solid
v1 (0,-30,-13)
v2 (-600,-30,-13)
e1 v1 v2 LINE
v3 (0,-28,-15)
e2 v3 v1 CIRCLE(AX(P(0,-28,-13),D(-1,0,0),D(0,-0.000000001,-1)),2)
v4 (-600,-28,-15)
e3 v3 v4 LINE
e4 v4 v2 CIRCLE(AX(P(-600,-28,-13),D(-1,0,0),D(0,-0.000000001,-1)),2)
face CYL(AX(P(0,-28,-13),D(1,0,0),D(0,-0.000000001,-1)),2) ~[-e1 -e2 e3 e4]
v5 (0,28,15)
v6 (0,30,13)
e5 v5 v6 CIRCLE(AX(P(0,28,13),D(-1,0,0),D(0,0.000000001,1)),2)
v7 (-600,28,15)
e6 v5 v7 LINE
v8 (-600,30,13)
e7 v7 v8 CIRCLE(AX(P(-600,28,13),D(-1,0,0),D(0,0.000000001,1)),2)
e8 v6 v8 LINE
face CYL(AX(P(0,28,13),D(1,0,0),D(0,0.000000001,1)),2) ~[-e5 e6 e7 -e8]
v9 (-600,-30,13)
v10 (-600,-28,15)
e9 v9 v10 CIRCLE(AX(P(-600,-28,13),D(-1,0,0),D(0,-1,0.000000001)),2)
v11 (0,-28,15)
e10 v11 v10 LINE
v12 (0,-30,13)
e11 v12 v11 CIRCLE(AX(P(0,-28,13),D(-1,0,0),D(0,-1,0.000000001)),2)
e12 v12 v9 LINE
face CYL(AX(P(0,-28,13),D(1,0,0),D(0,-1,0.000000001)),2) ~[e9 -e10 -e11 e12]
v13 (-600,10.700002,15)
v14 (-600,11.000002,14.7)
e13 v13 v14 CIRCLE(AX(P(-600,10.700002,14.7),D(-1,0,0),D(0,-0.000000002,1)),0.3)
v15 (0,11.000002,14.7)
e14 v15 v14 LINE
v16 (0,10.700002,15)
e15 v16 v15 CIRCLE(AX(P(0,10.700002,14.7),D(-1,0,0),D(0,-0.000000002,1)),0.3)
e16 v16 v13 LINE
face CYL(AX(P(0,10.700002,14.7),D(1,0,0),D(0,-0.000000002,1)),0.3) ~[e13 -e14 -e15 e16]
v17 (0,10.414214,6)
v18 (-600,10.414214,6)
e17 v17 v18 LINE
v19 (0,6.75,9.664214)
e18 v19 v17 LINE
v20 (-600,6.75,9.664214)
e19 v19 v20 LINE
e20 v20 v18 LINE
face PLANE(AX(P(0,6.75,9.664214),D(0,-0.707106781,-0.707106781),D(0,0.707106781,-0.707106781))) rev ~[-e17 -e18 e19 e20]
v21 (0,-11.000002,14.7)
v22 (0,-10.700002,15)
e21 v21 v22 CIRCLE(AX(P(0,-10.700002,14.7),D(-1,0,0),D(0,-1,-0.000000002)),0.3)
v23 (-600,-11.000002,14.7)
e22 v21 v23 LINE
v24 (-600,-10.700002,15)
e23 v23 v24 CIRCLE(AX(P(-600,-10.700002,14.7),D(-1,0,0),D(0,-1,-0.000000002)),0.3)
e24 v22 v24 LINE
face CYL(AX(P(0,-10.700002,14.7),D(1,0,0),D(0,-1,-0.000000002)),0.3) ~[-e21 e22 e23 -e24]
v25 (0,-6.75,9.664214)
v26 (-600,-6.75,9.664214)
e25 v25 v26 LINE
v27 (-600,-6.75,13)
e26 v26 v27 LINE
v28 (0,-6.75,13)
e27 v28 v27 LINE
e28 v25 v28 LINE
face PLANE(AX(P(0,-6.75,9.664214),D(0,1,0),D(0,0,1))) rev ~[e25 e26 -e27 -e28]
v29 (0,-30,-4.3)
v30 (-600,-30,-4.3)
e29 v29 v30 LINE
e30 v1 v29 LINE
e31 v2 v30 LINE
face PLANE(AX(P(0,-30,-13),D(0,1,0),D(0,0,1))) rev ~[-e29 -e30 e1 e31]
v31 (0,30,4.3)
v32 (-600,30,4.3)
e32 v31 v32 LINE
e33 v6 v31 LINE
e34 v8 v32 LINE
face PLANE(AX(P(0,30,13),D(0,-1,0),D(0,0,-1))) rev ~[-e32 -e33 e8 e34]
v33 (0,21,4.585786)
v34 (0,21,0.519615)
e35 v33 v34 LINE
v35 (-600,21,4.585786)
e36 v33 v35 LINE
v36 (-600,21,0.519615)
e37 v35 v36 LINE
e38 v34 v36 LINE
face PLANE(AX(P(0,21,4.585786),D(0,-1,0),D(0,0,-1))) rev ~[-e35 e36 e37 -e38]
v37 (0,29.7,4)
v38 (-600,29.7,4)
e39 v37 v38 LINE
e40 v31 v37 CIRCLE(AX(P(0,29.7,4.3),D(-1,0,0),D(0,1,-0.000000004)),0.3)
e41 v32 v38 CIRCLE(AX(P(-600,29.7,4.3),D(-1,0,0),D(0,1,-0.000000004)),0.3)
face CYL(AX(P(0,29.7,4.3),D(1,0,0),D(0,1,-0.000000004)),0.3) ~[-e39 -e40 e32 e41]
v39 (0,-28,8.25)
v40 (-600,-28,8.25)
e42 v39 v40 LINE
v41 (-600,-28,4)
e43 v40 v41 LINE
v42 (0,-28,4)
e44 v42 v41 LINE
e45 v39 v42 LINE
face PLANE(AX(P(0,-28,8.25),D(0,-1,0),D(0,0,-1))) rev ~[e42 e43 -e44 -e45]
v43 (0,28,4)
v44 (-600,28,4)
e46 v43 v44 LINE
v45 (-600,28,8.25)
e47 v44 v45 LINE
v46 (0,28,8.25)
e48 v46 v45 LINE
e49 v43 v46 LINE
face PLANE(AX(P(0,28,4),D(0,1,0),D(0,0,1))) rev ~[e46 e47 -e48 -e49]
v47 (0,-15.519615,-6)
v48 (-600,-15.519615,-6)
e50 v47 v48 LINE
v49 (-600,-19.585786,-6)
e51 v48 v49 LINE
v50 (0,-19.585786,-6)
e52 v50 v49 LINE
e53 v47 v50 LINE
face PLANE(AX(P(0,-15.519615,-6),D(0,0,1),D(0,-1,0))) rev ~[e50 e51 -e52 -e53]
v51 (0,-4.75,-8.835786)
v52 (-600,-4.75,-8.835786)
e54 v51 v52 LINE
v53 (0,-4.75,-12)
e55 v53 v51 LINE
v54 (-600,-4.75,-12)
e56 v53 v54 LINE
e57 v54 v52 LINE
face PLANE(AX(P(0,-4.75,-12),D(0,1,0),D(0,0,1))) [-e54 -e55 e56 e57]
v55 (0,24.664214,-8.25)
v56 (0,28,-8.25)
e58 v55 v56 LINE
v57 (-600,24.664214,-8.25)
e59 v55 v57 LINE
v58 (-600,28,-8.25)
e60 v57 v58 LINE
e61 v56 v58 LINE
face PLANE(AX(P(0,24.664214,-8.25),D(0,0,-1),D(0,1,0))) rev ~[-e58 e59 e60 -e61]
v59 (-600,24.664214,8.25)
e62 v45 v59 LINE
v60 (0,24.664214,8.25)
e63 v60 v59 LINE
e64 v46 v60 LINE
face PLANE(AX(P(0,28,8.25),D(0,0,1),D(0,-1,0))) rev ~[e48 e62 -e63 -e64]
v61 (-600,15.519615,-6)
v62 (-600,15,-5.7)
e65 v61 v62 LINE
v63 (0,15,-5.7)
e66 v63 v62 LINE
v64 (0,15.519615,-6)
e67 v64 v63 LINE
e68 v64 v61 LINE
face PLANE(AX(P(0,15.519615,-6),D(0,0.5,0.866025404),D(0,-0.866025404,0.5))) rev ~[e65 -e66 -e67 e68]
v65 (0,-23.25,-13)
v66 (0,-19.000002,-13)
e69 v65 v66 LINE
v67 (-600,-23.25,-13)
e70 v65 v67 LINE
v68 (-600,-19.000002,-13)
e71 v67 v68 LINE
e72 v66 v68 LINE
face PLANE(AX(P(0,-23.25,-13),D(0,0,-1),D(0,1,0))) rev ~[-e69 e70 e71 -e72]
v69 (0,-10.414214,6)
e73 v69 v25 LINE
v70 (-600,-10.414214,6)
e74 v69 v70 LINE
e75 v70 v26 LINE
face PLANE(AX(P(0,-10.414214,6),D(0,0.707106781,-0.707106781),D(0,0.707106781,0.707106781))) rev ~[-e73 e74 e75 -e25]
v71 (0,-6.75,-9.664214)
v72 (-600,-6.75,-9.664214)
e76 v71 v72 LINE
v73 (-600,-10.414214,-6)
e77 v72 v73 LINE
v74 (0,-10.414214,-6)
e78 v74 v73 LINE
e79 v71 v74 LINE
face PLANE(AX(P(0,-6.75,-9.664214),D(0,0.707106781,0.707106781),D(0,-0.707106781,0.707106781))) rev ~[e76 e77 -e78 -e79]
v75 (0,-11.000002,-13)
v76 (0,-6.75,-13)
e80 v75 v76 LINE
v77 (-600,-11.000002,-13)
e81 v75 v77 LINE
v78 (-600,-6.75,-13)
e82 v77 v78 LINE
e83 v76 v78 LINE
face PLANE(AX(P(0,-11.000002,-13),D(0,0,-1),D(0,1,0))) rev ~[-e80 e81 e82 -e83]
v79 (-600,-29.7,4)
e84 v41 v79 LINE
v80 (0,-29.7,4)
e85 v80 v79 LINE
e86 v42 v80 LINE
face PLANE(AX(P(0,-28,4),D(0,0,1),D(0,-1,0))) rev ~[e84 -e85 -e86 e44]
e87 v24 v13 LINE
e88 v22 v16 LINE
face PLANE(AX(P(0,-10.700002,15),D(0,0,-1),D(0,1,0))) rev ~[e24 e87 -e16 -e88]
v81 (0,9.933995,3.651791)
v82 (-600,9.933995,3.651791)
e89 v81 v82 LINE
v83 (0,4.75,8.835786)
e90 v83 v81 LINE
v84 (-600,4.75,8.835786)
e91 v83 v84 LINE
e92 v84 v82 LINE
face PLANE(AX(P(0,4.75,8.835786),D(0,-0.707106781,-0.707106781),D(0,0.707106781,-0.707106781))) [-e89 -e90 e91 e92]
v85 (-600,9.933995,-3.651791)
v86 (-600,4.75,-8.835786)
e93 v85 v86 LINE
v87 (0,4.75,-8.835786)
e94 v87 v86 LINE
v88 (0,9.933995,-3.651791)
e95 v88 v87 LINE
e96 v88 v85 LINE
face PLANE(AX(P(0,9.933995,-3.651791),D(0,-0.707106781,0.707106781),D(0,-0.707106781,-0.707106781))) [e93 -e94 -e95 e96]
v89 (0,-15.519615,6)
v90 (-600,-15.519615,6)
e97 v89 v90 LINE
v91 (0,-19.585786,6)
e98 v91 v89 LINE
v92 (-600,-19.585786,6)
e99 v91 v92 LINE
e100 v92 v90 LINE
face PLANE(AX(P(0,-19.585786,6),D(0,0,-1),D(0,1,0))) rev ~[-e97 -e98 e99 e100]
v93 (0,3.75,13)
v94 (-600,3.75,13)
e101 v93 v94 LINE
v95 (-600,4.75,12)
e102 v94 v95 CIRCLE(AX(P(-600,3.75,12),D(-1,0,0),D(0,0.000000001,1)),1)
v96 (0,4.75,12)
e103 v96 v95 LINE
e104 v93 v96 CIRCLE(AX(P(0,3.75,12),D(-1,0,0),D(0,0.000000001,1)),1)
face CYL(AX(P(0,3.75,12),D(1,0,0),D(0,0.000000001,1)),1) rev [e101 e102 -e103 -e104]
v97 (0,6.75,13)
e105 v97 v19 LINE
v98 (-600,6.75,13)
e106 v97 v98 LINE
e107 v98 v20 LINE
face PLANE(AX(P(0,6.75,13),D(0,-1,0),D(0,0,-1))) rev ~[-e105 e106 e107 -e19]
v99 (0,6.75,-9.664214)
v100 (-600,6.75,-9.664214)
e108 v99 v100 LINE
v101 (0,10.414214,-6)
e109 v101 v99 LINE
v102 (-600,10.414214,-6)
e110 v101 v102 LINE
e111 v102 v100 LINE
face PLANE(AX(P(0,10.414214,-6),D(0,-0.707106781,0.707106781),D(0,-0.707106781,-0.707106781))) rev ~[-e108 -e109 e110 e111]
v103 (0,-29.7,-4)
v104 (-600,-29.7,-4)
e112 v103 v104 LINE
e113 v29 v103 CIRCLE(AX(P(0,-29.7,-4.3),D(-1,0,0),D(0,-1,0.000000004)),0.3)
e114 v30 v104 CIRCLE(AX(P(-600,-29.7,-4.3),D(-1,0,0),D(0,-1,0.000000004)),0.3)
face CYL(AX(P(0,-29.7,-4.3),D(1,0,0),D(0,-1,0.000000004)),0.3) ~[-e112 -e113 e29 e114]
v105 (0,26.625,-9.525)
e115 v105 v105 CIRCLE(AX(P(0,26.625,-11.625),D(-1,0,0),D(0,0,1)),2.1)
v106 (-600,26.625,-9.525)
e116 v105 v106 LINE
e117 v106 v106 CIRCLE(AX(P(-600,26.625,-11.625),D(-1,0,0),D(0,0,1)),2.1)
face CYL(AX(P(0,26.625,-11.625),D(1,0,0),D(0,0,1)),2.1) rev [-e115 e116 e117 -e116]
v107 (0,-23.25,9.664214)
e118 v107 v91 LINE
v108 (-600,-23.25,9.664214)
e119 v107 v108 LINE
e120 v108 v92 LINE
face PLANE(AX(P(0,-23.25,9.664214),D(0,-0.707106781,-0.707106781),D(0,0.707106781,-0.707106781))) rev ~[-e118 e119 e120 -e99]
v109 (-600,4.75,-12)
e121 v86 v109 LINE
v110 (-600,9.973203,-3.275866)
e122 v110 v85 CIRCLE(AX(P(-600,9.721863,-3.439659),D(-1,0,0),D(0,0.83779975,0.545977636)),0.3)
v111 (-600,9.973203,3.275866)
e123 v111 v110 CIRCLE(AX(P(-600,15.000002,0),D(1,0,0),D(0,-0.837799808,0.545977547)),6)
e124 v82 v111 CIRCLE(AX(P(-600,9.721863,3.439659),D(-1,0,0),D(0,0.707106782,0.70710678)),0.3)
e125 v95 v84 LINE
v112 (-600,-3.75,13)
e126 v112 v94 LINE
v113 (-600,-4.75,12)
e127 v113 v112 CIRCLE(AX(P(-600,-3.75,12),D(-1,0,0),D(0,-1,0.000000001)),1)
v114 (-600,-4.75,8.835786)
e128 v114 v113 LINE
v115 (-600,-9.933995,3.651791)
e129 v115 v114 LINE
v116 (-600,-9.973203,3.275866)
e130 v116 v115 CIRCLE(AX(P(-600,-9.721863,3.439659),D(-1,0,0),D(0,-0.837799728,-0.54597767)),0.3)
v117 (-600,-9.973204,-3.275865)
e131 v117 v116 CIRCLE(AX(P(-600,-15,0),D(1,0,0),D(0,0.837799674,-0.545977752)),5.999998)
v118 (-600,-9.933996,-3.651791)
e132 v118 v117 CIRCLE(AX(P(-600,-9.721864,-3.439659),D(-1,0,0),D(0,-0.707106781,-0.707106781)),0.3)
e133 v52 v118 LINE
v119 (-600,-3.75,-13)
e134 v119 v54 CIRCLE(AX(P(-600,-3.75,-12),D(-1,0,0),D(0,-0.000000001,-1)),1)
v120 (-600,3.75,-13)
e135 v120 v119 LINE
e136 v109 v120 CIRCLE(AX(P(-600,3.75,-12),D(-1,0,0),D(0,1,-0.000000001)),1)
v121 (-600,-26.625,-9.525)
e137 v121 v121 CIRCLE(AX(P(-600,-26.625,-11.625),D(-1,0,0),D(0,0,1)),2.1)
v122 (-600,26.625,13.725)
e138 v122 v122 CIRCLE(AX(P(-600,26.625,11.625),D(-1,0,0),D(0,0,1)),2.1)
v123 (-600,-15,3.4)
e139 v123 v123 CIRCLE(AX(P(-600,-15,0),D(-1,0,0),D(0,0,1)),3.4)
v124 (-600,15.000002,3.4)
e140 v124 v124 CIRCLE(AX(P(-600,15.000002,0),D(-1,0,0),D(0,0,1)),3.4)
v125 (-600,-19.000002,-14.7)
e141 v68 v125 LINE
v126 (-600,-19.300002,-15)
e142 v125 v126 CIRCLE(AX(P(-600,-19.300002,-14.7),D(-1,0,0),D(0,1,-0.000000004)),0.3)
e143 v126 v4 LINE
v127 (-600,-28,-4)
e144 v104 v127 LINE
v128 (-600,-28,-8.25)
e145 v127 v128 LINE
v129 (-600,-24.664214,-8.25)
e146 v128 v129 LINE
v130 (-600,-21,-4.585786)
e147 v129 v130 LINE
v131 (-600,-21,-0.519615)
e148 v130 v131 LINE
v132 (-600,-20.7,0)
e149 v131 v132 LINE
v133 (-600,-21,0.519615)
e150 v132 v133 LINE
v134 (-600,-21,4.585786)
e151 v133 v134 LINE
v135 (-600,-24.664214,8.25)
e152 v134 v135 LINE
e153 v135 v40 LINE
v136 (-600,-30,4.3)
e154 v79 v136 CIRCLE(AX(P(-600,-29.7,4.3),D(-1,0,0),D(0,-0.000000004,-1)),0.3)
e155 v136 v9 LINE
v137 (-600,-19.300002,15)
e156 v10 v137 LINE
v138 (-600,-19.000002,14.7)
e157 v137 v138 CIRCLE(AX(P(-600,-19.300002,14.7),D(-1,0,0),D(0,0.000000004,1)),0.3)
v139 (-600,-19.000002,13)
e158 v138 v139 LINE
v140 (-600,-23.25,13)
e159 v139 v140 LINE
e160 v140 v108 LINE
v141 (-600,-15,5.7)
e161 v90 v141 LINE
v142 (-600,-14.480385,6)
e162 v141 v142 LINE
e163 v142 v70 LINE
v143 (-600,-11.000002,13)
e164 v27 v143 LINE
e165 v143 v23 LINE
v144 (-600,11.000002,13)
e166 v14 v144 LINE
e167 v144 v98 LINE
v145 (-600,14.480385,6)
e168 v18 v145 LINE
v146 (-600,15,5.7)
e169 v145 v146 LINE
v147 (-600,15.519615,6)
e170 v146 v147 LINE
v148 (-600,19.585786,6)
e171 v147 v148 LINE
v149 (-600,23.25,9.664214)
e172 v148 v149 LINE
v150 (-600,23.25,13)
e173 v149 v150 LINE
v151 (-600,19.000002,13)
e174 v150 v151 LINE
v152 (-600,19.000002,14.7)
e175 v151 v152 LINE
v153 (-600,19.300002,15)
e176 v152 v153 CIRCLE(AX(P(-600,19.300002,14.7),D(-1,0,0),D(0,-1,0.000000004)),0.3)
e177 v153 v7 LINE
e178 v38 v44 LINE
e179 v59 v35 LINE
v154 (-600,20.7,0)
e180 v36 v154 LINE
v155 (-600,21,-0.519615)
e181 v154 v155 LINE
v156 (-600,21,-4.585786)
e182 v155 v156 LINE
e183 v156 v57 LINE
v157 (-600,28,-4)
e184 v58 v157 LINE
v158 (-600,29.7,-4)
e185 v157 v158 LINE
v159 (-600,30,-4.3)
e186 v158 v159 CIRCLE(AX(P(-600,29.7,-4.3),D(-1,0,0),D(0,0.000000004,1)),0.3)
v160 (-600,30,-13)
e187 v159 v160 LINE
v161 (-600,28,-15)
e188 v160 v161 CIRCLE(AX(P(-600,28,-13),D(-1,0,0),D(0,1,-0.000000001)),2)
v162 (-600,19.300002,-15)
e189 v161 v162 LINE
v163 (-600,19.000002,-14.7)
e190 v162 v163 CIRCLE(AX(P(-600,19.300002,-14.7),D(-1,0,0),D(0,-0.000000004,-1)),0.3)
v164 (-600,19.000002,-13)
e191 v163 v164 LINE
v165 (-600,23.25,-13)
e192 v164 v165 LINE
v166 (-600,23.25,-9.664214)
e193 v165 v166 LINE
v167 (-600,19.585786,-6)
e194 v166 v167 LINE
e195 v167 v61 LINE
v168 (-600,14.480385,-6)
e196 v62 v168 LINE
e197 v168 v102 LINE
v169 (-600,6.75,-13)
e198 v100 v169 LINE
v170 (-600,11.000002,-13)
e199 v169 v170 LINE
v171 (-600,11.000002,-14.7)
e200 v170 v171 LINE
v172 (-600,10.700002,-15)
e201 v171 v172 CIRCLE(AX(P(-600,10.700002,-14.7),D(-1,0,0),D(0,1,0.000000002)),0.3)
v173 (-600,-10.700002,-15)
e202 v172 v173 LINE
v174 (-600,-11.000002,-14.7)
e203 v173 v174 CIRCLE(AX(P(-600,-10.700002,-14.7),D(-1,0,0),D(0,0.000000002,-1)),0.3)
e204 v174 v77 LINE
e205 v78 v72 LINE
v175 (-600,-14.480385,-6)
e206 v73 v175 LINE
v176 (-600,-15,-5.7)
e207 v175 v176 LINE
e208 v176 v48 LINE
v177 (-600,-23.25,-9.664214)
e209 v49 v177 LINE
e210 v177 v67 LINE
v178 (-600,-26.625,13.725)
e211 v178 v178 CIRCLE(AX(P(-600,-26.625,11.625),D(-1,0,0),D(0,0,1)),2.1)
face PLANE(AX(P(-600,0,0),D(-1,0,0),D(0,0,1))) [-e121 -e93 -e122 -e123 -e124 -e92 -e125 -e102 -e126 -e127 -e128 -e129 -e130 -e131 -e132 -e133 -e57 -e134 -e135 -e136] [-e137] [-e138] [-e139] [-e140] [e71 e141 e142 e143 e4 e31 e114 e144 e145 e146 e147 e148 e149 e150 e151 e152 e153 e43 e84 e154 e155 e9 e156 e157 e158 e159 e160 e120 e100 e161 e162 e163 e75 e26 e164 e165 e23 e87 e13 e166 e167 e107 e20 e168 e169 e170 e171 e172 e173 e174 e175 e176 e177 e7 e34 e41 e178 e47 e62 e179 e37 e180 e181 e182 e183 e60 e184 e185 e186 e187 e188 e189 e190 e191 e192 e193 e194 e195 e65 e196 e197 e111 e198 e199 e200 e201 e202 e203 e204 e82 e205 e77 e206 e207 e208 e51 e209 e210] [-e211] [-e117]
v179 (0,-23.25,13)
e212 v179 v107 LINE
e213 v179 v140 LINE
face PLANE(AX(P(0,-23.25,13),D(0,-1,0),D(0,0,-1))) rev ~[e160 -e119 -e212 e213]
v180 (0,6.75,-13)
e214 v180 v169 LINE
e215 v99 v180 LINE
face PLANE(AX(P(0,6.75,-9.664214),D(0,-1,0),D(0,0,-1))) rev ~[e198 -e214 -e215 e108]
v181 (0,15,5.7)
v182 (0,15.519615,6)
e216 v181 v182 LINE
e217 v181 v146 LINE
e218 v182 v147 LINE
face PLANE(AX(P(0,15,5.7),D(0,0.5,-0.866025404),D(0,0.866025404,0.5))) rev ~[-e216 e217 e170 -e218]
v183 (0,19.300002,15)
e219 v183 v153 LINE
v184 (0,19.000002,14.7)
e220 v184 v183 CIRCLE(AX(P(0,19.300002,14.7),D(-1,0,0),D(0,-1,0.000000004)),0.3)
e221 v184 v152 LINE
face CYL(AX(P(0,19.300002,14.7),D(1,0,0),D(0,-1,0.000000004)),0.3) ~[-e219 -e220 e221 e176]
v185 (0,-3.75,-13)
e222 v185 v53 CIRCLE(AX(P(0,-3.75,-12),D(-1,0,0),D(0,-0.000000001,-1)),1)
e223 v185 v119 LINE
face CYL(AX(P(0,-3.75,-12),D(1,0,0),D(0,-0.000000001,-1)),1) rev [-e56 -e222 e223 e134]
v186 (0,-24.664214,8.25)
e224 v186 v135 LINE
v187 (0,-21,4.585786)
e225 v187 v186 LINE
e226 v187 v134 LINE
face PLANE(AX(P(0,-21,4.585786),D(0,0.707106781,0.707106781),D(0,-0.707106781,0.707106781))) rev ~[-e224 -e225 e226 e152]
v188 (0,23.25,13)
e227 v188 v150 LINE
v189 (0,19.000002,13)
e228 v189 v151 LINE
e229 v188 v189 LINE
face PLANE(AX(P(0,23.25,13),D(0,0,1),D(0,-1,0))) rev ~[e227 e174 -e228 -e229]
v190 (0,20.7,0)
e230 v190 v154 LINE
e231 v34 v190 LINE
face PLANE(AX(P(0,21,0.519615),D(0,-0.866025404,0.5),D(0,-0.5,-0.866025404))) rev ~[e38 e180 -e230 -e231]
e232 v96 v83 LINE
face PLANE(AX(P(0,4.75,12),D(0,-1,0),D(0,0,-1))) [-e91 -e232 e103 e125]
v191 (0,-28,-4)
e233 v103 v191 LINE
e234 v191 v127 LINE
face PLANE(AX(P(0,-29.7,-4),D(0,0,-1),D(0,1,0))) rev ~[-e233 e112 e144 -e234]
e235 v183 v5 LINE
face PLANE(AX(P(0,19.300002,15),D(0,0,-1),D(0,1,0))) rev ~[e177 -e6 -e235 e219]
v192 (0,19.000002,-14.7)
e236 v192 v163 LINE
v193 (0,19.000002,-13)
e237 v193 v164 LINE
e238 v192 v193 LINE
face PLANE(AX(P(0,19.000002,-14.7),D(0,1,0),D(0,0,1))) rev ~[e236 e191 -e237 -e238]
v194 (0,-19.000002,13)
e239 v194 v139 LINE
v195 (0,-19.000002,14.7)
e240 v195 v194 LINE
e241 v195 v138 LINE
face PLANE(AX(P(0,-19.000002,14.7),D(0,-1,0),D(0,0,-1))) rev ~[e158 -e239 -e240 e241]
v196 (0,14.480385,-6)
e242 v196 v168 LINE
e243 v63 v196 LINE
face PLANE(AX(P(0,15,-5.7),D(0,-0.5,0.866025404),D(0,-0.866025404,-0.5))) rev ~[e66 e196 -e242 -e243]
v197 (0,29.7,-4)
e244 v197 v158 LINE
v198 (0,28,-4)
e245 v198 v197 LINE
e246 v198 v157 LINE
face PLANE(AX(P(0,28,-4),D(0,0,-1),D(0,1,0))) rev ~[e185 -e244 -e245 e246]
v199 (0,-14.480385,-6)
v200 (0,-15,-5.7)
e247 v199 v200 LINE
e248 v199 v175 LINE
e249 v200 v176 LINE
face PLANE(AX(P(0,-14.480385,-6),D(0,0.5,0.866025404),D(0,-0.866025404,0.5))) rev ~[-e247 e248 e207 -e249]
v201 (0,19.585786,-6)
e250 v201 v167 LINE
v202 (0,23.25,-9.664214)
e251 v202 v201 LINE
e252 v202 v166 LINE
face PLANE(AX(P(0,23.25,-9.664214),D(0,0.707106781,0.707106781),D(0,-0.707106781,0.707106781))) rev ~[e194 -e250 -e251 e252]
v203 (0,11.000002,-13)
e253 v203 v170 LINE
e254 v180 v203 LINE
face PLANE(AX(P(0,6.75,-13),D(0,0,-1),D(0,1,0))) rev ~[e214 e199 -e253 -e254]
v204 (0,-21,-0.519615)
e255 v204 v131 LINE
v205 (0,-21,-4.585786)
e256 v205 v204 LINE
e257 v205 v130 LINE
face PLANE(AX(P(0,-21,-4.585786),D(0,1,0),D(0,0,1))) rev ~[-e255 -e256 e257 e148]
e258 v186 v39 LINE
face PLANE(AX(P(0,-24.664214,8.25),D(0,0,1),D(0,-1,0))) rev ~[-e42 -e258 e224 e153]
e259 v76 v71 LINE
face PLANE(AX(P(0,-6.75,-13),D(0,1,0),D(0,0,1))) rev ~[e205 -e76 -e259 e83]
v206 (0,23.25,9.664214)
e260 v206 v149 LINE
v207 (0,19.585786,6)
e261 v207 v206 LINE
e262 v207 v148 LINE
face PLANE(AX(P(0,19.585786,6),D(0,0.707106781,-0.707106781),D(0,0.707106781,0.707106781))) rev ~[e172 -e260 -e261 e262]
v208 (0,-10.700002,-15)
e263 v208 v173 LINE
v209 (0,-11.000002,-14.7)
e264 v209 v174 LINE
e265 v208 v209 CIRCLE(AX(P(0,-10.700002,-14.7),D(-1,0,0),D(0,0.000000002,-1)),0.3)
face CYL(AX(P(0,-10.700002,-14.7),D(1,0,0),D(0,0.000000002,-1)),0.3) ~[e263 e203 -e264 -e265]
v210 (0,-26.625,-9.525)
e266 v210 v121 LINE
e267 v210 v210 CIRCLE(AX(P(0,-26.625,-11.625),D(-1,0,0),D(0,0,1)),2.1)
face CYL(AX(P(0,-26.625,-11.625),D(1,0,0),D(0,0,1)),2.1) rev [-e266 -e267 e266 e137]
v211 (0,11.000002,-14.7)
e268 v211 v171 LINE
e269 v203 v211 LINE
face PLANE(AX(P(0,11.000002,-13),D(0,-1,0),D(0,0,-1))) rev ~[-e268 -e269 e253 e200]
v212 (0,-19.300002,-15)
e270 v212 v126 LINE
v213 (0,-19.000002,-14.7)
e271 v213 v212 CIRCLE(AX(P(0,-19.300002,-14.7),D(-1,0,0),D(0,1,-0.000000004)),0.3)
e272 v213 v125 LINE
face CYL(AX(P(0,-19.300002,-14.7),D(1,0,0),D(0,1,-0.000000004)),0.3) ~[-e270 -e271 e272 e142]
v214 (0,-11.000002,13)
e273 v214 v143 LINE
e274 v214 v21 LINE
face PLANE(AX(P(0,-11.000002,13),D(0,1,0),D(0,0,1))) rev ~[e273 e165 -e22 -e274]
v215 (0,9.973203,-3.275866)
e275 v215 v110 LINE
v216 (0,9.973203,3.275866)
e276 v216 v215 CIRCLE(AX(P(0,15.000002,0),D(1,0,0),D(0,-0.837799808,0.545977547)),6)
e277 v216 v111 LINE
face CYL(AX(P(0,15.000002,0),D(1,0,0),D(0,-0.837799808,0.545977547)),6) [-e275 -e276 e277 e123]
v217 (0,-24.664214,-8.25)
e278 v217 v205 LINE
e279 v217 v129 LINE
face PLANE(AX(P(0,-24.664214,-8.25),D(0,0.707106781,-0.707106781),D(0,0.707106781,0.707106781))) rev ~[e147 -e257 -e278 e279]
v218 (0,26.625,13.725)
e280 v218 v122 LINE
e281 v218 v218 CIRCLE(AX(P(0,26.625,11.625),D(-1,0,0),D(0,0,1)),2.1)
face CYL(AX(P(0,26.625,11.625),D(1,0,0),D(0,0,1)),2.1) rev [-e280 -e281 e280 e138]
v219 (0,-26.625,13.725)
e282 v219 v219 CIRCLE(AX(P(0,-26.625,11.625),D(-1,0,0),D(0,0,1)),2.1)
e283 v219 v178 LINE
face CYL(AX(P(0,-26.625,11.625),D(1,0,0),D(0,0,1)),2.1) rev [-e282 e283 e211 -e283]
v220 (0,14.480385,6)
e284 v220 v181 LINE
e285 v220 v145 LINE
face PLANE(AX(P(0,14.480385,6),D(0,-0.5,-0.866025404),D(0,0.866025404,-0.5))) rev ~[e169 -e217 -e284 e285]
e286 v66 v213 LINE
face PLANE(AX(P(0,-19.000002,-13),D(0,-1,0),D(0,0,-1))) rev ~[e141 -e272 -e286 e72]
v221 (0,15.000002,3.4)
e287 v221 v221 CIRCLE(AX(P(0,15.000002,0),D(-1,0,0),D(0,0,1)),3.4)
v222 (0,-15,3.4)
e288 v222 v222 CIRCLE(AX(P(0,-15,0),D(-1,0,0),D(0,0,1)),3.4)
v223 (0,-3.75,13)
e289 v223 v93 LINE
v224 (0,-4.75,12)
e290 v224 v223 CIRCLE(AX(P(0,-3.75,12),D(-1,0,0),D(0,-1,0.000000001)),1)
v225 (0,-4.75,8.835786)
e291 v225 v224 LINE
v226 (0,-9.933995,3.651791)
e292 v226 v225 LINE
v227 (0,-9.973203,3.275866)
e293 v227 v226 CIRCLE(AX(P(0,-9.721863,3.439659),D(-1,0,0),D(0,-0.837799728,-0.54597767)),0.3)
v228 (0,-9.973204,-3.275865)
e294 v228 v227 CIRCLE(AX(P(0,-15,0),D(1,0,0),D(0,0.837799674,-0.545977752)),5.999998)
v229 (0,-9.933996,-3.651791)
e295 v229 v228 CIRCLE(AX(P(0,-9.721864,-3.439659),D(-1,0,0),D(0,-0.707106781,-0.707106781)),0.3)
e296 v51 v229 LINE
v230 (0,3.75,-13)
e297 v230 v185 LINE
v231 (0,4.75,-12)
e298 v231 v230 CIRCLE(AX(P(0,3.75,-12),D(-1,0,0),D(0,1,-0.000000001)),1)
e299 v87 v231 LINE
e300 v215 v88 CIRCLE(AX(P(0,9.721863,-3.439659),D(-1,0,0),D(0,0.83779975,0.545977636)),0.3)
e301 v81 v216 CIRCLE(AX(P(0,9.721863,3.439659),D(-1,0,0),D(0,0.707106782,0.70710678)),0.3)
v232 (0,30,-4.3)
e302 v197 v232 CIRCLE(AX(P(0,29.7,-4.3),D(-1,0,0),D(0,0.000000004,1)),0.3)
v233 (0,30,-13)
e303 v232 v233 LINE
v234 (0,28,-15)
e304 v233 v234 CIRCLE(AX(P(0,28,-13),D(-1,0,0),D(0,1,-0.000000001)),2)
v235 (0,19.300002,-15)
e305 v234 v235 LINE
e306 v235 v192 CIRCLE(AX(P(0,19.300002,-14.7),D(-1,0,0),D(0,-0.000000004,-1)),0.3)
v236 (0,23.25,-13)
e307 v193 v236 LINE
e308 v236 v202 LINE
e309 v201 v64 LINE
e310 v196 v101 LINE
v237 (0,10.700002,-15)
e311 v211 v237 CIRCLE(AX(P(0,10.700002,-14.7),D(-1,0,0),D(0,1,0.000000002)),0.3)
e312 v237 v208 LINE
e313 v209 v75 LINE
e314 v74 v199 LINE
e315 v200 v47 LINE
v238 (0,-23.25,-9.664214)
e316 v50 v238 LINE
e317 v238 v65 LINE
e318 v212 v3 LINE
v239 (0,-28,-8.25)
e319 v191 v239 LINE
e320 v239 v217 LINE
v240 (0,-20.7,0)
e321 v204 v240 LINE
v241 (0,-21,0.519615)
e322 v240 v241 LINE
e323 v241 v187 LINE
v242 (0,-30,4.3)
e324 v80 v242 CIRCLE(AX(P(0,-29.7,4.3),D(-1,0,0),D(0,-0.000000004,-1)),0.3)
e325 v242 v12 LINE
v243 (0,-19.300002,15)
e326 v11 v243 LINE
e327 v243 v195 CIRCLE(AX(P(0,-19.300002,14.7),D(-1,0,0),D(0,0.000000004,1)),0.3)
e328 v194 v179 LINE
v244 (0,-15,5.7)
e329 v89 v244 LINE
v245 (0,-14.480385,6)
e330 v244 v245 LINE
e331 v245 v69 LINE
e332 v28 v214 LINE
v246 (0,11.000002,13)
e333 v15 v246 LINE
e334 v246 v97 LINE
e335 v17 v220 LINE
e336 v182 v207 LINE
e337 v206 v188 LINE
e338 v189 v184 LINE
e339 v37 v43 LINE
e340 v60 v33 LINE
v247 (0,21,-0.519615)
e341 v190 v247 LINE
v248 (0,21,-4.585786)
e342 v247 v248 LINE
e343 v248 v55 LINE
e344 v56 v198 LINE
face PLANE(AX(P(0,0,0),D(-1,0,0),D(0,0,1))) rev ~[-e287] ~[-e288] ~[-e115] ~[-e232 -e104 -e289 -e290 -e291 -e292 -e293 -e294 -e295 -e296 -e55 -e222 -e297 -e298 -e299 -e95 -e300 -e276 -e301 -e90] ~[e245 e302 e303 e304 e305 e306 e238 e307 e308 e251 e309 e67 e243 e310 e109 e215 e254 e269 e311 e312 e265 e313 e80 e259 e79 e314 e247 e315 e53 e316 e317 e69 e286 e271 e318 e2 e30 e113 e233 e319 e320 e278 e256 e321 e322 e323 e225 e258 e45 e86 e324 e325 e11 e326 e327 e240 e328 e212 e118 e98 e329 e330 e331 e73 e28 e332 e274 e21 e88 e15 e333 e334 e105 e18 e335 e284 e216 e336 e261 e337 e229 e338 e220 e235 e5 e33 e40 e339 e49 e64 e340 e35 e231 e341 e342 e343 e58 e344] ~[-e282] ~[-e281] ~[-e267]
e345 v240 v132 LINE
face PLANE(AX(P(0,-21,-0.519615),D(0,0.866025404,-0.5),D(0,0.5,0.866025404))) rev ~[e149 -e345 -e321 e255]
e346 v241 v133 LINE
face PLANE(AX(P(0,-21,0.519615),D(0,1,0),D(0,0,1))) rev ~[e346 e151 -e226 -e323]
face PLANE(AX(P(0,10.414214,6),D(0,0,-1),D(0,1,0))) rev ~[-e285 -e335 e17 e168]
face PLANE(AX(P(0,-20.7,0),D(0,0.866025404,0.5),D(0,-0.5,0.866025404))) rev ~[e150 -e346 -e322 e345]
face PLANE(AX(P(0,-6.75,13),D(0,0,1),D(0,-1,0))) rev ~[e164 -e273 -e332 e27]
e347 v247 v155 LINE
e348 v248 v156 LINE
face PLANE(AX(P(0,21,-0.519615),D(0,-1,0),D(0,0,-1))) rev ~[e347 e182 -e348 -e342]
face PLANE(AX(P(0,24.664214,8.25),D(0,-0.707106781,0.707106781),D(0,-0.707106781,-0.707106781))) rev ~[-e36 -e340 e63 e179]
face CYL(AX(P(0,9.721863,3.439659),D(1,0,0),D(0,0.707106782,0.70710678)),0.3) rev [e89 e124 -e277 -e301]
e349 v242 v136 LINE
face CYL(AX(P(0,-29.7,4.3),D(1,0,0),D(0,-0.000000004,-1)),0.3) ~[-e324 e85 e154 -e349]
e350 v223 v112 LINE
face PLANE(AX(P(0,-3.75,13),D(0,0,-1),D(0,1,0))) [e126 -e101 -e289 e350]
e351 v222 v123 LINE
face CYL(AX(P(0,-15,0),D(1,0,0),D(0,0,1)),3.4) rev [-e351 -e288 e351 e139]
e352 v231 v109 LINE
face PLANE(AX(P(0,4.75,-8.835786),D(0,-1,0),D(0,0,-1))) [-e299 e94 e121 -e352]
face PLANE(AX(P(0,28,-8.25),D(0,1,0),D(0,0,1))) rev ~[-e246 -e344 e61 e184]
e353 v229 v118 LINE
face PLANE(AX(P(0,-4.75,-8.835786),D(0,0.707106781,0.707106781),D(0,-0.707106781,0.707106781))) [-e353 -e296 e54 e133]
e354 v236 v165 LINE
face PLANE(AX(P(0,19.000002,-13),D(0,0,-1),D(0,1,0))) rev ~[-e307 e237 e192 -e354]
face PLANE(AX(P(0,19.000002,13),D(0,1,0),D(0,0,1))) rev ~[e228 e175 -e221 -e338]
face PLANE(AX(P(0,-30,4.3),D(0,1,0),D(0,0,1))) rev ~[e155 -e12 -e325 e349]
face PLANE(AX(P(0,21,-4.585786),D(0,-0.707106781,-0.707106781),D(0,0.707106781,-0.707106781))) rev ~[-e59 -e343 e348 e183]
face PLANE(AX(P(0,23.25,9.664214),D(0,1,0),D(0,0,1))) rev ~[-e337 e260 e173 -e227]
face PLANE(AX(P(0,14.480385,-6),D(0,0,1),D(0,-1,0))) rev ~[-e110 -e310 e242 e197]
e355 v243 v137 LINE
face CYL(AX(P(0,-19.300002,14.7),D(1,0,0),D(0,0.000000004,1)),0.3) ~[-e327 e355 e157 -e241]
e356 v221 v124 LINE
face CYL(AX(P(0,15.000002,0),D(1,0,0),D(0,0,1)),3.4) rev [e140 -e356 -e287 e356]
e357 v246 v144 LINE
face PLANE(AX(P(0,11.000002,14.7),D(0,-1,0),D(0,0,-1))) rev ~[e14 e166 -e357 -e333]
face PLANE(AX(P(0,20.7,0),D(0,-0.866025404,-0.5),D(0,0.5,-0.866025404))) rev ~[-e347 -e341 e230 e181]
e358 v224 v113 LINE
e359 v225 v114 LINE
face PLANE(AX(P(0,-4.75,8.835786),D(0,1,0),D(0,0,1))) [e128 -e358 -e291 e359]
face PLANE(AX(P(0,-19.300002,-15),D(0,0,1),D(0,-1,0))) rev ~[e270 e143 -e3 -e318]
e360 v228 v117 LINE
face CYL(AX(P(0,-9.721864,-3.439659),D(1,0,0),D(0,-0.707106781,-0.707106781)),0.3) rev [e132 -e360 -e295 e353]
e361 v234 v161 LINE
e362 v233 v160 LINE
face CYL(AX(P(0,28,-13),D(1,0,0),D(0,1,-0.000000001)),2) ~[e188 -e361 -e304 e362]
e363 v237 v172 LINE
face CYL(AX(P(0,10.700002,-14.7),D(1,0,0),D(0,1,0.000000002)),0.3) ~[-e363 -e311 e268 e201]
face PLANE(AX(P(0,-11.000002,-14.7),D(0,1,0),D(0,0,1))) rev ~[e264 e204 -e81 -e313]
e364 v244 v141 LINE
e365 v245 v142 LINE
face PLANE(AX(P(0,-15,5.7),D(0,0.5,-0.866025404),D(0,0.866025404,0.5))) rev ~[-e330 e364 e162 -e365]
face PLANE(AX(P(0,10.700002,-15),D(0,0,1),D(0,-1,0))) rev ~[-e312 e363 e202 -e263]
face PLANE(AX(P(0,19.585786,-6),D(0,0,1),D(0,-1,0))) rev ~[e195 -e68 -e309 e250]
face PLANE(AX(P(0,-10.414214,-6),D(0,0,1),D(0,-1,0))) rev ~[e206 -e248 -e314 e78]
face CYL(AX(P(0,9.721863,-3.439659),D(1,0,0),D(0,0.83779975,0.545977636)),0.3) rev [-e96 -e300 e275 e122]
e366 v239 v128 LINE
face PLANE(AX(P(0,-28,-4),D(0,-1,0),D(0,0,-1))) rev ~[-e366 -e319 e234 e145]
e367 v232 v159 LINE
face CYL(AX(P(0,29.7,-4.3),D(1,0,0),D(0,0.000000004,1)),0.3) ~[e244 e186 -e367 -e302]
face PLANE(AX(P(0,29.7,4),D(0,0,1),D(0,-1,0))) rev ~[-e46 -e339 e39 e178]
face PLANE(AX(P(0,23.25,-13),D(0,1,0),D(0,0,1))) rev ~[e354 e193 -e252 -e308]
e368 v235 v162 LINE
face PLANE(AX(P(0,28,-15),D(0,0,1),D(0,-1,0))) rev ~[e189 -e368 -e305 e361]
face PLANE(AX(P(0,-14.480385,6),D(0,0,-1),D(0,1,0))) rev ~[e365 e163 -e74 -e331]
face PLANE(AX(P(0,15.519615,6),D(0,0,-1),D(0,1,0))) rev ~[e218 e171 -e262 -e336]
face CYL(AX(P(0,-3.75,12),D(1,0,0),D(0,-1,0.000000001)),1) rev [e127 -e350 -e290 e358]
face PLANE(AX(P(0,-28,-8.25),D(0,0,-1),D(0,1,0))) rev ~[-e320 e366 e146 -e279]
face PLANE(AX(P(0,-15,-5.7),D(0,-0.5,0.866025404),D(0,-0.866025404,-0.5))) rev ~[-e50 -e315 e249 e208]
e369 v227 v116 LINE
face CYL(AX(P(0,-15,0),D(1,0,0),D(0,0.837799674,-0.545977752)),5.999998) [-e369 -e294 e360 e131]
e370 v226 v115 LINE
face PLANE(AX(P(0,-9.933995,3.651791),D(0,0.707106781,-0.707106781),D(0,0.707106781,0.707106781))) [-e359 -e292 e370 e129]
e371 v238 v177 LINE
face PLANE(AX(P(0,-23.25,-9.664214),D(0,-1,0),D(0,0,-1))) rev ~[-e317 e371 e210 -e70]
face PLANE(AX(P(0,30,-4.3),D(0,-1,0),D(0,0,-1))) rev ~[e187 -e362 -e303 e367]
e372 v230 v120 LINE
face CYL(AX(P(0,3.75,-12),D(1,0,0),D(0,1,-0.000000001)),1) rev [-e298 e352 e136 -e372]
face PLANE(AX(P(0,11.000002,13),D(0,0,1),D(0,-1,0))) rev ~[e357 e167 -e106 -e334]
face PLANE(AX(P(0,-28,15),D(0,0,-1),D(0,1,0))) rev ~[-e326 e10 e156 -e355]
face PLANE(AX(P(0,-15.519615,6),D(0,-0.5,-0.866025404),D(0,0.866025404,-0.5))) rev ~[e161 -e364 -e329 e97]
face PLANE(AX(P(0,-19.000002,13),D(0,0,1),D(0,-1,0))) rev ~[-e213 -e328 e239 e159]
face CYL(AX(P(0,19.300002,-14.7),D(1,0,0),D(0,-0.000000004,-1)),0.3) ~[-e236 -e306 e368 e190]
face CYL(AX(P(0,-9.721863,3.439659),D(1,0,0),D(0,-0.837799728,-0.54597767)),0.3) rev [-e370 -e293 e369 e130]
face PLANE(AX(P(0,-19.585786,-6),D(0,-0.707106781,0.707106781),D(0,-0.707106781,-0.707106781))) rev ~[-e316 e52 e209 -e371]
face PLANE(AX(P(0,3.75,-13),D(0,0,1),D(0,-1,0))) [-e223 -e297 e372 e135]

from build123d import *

# Parameters (mm, degrees)
SKETCH_1_R              = 2.1
SKETCH_1_R_2            = 3.4
F_30XS6_30X60S6_1_DEPTH = 600


with BuildPart() as part:
    # 草图1 → 30xs6 30X60S6(1) (new body)
    with BuildSketch(Plane.ZY):
        with BuildLine():
            Line((-13, -30), (-4.3, -30))
            ThreePointArc((-4.3, -30), (-4.087867966, -29.912132034), (-4, -29.7))
            Line((-4, -29.7), (-4, -28))
            Line((-4, -28), (-8.249999995, -28))
            Line((-8.249999995, -28), (-8.249999995, -24.664213567))
            Line((-8.249999995, -24.664213567), (-4.585786428, -21))
            Line((-4.585786428, -21), (-0.519615237, -21))
            Line((-0.519615237, -21), (5e-09, -20.7))
            Line((5e-09, -20.7), (0.519615247, -21))
            Line((0.519615247, -21), (4.585786438, -21))
            Line((4.585786438, -21), (8.250000005, -24.664213567))
            Line((8.250000005, -24.664213567), (8.250000005, -28))
            Line((8.250000005, -28), (4, -28))
            Line((4, -28), (4, -29.7))
            ThreePointArc((4, -29.7), (4.087867966, -29.912132034), (4.3, -30))
            Line((4.3, -30), (13, -30))
            ThreePointArc((13, -30), (14.414213562, -29.414213562), (15, -28))
            Line((15, -28), (15, -19.3000023))
            ThreePointArc((15, -19.3000023), (14.912132034, -19.087870266), (14.7, -19.0000023))
            Line((14.7, -19.0000023), (13.000000005, -19.0000023))
            Line((13.000000005, -19.0000023), (13.000000005, -23.250000005))
            Line((13.000000005, -23.250000005), (9.664213567, -23.250000005))
            Line((9.664213567, -23.250000005), (6.000000005, -19.585786443))
            Line((6.000000005, -19.585786443), (6.000000005, -15.519615247))
            Line((6.000000005, -15.519615247), (5.700000005, -15.000000005))
            Line((5.700000005, -15.000000005), (6.000000005, -14.480384763))
            Line((6.000000005, -14.480384763), (6.000000005, -10.414213567))
            Line((6.000000005, -10.414213567), (9.664213567, -6.750000005))
            Line((9.664213567, -6.750000005), (13.000000005, -6.750000005))
            Line((13.000000005, -6.750000005), (13.000000005, -11.0000023))
            Line((13.000000005, -11.0000023), (14.7, -11.0000023))
            ThreePointArc((14.7, -11.0000023), (14.912132034, -10.912134335), (15, -10.7000023))
            Line((15, -10.7000023), (15, 10.7000023))
            ThreePointArc((15, 10.7000023), (14.912132034, 10.912134335), (14.7, 11.0000023))
            Line((14.7, 11.0000023), (13.000000005, 11.0000023))
            Line((13.000000005, 11.0000023), (13.000000005, 6.749999995))
            Line((13.000000005, 6.749999995), (9.664213567, 6.749999995))
            Line((9.664213567, 6.749999995), (6.000000005, 10.414213557))
            Line((6.000000005, 10.414213557), (6.000000005, 14.480384753))
            Line((6.000000005, 14.480384753), (5.700000005, 14.999999995))
            Line((5.700000005, 14.999999995), (6.000000005, 15.519615237))
            Line((6.000000005, 15.519615237), (6.000000005, 19.585786433))
            Line((6.000000005, 19.585786433), (9.664213567, 23.249999995))
            Line((9.664213567, 23.249999995), (13.000000005, 23.249999995))
            Line((13.000000005, 23.249999995), (13.000000005, 19.0000023))
            Line((13.000000005, 19.0000023), (14.7, 19.0000023))
            ThreePointArc((14.7, 19.0000023), (14.912132034, 19.087870266), (15, 19.3000023))
            Line((15, 19.3000023), (15, 28))
            ThreePointArc((15, 28), (14.414213562, 29.414213562), (13, 30))
            Line((13, 30), (4.3, 30))
            ThreePointArc((4.3, 30), (4.087867966, 29.912132034), (4, 29.7))
            Line((4, 29.7), (4, 28))
            Line((4, 28), (8.250000005, 28))
            Line((8.250000005, 28), (8.250000005, 24.664213557))
            Line((8.250000005, 24.664213557), (4.585786448, 21))
            Line((4.585786448, 21), (0.519615247, 21))
            Line((0.519615247, 21), (5e-09, 20.7))
            Line((5e-09, 20.7), (-0.519615237, 21))
            Line((-0.519615237, 21), (-4.585786438, 21))
            Line((-4.585786438, 21), (-8.249999995, 24.664213557))
            Line((-8.249999995, 24.664213557), (-8.249999995, 28))
            Line((-8.249999995, 28), (-4, 28))
            Line((-4, 28), (-4, 29.7))
            ThreePointArc((-4, 29.7), (-4.087867966, 29.912132034), (-4.3, 30))
            Line((-4.3, 30), (-13, 30))
            ThreePointArc((-13, 30), (-14.414213562, 29.414213562), (-15, 28))
            Line((-15, 28), (-15, 19.3000023))
            ThreePointArc((-15, 19.3000023), (-14.912132034, 19.087870266), (-14.7, 19.0000023))
            Line((-14.7, 19.0000023), (-12.999999995, 19.0000023))
            Line((-12.999999995, 19.0000023), (-12.999999995, 23.249999995))
            Line((-12.999999995, 23.249999995), (-9.664213557, 23.249999995))
            Line((-9.664213557, 23.249999995), (-5.999999995, 19.585786433))
            Line((-5.999999995, 19.585786433), (-5.999999995, 15.519615237))
            Line((-5.999999995, 15.519615237), (-5.699999995, 14.999999995))
            Line((-5.699999995, 14.999999995), (-5.999999995, 14.480384753))
            Line((-5.999999995, 14.480384753), (-5.999999995, 10.414213557))
            Line((-5.999999995, 10.414213557), (-9.664213557, 6.749999995))
            Line((-9.664213557, 6.749999995), (-12.999999995, 6.749999995))
            Line((-12.999999995, 6.749999995), (-12.999999995, 11.0000023))
            Line((-12.999999995, 11.0000023), (-14.7, 11.0000023))
            ThreePointArc((-14.7, 11.0000023), (-14.912132034, 10.912134335), (-15, 10.7000023))
            Line((-15, 10.7000023), (-15, -10.7000023))
            ThreePointArc((-15, -10.7000023), (-14.912132034, -10.912134335), (-14.7, -11.0000023))
            Line((-14.7, -11.0000023), (-12.999999995, -11.0000023))
            Line((-12.999999995, -11.0000023), (-12.999999995, -6.750000005))
            Line((-12.999999995, -6.750000005), (-9.664213557, -6.750000005))
            Line((-9.664213557, -6.750000005), (-5.999999995, -10.414213567))
            Line((-5.999999995, -10.414213567), (-5.999999995, -14.480384763))
            Line((-5.999999995, -14.480384763), (-5.699999995, -15.000000005))
            Line((-5.699999995, -15.000000005), (-5.999999995, -15.519615247))
            Line((-5.999999995, -15.519615247), (-5.999999995, -19.585786443))
            Line((-5.999999995, -19.585786443), (-9.664213557, -23.250000005))
            Line((-9.664213557, -23.250000005), (-12.999999995, -23.250000005))
            Line((-12.999999995, -23.250000005), (-12.999999995, -19.0000023))
            Line((-12.999999995, -19.0000023), (-14.7, -19.0000023))
            ThreePointArc((-14.7, -19.0000023), (-14.912132034, -19.087870266), (-15, -19.3000023))
            Line((-15, -19.3000023), (-15, -28))
            ThreePointArc((-15, -28), (-14.414213562, -29.414213562), (-13, -30))
        make_face()
        with Locations((11.625000005, 26.624999995)):
            Circle(SKETCH_1_R, mode=Mode.SUBTRACT)
        with Locations((11.625000005, -26.625000005)):
            Circle(SKETCH_1_R, mode=Mode.SUBTRACT)
        with Locations((4.55e-07, -15.00000049)):
            Circle(SKETCH_1_R_2, mode=Mode.SUBTRACT)
        with Locations((4.55e-07, 15.0000023)):
            Circle(SKETCH_1_R_2, mode=Mode.SUBTRACT)
        with Locations((-11.624999995, 26.624999995)):
            Circle(SKETCH_1_R, mode=Mode.SUBTRACT)
        with Locations((-11.624999995, -26.625000005)):
            Circle(SKETCH_1_R, mode=Mode.SUBTRACT)
        with BuildLine():
            Line((-12.999999995, 3.749999995), (-12.999999995, -3.750000005))
            ThreePointArc((-12.999999995, -3.750000005), (-12.707106776, -4.457106786), (-11.999999995, -4.750000005))
            Line((-11.999999995, -4.750000005), (-8.835786433, -4.750000005))
            Line((-8.835786433, -4.750000005), (-3.651790591, -9.933995846))
            ThreePointArc((-3.651790591, -9.933995846), (-3.470778838, -10.020245326), (-3.275865231, -9.973203714))
            ThreePointArc((-3.275865231, -9.973203714), (1.45e-07, -9.000002005), (3.275865622, -9.973203376))
            ThreePointArc((3.275865622, -9.973203376), (3.470779219, -10.02024497), (3.651790956, -9.933995491))
            Line((3.651790956, -9.933995491), (8.835786443, -4.750000005))
            Line((8.835786443, -4.750000005), (12.000000005, -4.750000005))
            ThreePointArc((12.000000005, -4.750000005), (12.707106786, -4.457106786), (13.000000005, -3.750000005))
            Line((13.000000005, -3.750000005), (13.000000005, 3.749999995))
            ThreePointArc((13.000000005, 3.749999995), (12.707106786, 4.457106776), (12.000000005, 4.749999995))
            Line((12.000000005, 4.749999995), (8.835786443, 4.749999995))
            Line((8.835786443, 4.749999995), (3.6517913, 9.933995138))
            ThreePointArc((3.6517913, 9.933995138), (3.470779584, 10.020244614), (3.275866001, 9.973203046))
            ThreePointArc((3.275866001, 9.973203046), (1.45e-07, 9.000001815), (-3.27586561, 9.973203384))
            ThreePointArc((-3.27586561, 9.973203384), (-3.470779203, 10.020244971), (-3.651790935, 9.933995493))
            Line((-3.651790935, 9.933995493), (-8.835786433, 4.749999995))
            Line((-8.835786433, 4.749999995), (-11.999999995, 4.749999995))
            ThreePointArc((-11.999999995, 4.749999995), (-12.707106776, 4.457106776), (-12.999999995, 3.749999995))
        make_face(mode=Mode.SUBTRACT)
    extrude(amount=F_30XS6_30X60S6_1_DEPTH)


solid = part.part
